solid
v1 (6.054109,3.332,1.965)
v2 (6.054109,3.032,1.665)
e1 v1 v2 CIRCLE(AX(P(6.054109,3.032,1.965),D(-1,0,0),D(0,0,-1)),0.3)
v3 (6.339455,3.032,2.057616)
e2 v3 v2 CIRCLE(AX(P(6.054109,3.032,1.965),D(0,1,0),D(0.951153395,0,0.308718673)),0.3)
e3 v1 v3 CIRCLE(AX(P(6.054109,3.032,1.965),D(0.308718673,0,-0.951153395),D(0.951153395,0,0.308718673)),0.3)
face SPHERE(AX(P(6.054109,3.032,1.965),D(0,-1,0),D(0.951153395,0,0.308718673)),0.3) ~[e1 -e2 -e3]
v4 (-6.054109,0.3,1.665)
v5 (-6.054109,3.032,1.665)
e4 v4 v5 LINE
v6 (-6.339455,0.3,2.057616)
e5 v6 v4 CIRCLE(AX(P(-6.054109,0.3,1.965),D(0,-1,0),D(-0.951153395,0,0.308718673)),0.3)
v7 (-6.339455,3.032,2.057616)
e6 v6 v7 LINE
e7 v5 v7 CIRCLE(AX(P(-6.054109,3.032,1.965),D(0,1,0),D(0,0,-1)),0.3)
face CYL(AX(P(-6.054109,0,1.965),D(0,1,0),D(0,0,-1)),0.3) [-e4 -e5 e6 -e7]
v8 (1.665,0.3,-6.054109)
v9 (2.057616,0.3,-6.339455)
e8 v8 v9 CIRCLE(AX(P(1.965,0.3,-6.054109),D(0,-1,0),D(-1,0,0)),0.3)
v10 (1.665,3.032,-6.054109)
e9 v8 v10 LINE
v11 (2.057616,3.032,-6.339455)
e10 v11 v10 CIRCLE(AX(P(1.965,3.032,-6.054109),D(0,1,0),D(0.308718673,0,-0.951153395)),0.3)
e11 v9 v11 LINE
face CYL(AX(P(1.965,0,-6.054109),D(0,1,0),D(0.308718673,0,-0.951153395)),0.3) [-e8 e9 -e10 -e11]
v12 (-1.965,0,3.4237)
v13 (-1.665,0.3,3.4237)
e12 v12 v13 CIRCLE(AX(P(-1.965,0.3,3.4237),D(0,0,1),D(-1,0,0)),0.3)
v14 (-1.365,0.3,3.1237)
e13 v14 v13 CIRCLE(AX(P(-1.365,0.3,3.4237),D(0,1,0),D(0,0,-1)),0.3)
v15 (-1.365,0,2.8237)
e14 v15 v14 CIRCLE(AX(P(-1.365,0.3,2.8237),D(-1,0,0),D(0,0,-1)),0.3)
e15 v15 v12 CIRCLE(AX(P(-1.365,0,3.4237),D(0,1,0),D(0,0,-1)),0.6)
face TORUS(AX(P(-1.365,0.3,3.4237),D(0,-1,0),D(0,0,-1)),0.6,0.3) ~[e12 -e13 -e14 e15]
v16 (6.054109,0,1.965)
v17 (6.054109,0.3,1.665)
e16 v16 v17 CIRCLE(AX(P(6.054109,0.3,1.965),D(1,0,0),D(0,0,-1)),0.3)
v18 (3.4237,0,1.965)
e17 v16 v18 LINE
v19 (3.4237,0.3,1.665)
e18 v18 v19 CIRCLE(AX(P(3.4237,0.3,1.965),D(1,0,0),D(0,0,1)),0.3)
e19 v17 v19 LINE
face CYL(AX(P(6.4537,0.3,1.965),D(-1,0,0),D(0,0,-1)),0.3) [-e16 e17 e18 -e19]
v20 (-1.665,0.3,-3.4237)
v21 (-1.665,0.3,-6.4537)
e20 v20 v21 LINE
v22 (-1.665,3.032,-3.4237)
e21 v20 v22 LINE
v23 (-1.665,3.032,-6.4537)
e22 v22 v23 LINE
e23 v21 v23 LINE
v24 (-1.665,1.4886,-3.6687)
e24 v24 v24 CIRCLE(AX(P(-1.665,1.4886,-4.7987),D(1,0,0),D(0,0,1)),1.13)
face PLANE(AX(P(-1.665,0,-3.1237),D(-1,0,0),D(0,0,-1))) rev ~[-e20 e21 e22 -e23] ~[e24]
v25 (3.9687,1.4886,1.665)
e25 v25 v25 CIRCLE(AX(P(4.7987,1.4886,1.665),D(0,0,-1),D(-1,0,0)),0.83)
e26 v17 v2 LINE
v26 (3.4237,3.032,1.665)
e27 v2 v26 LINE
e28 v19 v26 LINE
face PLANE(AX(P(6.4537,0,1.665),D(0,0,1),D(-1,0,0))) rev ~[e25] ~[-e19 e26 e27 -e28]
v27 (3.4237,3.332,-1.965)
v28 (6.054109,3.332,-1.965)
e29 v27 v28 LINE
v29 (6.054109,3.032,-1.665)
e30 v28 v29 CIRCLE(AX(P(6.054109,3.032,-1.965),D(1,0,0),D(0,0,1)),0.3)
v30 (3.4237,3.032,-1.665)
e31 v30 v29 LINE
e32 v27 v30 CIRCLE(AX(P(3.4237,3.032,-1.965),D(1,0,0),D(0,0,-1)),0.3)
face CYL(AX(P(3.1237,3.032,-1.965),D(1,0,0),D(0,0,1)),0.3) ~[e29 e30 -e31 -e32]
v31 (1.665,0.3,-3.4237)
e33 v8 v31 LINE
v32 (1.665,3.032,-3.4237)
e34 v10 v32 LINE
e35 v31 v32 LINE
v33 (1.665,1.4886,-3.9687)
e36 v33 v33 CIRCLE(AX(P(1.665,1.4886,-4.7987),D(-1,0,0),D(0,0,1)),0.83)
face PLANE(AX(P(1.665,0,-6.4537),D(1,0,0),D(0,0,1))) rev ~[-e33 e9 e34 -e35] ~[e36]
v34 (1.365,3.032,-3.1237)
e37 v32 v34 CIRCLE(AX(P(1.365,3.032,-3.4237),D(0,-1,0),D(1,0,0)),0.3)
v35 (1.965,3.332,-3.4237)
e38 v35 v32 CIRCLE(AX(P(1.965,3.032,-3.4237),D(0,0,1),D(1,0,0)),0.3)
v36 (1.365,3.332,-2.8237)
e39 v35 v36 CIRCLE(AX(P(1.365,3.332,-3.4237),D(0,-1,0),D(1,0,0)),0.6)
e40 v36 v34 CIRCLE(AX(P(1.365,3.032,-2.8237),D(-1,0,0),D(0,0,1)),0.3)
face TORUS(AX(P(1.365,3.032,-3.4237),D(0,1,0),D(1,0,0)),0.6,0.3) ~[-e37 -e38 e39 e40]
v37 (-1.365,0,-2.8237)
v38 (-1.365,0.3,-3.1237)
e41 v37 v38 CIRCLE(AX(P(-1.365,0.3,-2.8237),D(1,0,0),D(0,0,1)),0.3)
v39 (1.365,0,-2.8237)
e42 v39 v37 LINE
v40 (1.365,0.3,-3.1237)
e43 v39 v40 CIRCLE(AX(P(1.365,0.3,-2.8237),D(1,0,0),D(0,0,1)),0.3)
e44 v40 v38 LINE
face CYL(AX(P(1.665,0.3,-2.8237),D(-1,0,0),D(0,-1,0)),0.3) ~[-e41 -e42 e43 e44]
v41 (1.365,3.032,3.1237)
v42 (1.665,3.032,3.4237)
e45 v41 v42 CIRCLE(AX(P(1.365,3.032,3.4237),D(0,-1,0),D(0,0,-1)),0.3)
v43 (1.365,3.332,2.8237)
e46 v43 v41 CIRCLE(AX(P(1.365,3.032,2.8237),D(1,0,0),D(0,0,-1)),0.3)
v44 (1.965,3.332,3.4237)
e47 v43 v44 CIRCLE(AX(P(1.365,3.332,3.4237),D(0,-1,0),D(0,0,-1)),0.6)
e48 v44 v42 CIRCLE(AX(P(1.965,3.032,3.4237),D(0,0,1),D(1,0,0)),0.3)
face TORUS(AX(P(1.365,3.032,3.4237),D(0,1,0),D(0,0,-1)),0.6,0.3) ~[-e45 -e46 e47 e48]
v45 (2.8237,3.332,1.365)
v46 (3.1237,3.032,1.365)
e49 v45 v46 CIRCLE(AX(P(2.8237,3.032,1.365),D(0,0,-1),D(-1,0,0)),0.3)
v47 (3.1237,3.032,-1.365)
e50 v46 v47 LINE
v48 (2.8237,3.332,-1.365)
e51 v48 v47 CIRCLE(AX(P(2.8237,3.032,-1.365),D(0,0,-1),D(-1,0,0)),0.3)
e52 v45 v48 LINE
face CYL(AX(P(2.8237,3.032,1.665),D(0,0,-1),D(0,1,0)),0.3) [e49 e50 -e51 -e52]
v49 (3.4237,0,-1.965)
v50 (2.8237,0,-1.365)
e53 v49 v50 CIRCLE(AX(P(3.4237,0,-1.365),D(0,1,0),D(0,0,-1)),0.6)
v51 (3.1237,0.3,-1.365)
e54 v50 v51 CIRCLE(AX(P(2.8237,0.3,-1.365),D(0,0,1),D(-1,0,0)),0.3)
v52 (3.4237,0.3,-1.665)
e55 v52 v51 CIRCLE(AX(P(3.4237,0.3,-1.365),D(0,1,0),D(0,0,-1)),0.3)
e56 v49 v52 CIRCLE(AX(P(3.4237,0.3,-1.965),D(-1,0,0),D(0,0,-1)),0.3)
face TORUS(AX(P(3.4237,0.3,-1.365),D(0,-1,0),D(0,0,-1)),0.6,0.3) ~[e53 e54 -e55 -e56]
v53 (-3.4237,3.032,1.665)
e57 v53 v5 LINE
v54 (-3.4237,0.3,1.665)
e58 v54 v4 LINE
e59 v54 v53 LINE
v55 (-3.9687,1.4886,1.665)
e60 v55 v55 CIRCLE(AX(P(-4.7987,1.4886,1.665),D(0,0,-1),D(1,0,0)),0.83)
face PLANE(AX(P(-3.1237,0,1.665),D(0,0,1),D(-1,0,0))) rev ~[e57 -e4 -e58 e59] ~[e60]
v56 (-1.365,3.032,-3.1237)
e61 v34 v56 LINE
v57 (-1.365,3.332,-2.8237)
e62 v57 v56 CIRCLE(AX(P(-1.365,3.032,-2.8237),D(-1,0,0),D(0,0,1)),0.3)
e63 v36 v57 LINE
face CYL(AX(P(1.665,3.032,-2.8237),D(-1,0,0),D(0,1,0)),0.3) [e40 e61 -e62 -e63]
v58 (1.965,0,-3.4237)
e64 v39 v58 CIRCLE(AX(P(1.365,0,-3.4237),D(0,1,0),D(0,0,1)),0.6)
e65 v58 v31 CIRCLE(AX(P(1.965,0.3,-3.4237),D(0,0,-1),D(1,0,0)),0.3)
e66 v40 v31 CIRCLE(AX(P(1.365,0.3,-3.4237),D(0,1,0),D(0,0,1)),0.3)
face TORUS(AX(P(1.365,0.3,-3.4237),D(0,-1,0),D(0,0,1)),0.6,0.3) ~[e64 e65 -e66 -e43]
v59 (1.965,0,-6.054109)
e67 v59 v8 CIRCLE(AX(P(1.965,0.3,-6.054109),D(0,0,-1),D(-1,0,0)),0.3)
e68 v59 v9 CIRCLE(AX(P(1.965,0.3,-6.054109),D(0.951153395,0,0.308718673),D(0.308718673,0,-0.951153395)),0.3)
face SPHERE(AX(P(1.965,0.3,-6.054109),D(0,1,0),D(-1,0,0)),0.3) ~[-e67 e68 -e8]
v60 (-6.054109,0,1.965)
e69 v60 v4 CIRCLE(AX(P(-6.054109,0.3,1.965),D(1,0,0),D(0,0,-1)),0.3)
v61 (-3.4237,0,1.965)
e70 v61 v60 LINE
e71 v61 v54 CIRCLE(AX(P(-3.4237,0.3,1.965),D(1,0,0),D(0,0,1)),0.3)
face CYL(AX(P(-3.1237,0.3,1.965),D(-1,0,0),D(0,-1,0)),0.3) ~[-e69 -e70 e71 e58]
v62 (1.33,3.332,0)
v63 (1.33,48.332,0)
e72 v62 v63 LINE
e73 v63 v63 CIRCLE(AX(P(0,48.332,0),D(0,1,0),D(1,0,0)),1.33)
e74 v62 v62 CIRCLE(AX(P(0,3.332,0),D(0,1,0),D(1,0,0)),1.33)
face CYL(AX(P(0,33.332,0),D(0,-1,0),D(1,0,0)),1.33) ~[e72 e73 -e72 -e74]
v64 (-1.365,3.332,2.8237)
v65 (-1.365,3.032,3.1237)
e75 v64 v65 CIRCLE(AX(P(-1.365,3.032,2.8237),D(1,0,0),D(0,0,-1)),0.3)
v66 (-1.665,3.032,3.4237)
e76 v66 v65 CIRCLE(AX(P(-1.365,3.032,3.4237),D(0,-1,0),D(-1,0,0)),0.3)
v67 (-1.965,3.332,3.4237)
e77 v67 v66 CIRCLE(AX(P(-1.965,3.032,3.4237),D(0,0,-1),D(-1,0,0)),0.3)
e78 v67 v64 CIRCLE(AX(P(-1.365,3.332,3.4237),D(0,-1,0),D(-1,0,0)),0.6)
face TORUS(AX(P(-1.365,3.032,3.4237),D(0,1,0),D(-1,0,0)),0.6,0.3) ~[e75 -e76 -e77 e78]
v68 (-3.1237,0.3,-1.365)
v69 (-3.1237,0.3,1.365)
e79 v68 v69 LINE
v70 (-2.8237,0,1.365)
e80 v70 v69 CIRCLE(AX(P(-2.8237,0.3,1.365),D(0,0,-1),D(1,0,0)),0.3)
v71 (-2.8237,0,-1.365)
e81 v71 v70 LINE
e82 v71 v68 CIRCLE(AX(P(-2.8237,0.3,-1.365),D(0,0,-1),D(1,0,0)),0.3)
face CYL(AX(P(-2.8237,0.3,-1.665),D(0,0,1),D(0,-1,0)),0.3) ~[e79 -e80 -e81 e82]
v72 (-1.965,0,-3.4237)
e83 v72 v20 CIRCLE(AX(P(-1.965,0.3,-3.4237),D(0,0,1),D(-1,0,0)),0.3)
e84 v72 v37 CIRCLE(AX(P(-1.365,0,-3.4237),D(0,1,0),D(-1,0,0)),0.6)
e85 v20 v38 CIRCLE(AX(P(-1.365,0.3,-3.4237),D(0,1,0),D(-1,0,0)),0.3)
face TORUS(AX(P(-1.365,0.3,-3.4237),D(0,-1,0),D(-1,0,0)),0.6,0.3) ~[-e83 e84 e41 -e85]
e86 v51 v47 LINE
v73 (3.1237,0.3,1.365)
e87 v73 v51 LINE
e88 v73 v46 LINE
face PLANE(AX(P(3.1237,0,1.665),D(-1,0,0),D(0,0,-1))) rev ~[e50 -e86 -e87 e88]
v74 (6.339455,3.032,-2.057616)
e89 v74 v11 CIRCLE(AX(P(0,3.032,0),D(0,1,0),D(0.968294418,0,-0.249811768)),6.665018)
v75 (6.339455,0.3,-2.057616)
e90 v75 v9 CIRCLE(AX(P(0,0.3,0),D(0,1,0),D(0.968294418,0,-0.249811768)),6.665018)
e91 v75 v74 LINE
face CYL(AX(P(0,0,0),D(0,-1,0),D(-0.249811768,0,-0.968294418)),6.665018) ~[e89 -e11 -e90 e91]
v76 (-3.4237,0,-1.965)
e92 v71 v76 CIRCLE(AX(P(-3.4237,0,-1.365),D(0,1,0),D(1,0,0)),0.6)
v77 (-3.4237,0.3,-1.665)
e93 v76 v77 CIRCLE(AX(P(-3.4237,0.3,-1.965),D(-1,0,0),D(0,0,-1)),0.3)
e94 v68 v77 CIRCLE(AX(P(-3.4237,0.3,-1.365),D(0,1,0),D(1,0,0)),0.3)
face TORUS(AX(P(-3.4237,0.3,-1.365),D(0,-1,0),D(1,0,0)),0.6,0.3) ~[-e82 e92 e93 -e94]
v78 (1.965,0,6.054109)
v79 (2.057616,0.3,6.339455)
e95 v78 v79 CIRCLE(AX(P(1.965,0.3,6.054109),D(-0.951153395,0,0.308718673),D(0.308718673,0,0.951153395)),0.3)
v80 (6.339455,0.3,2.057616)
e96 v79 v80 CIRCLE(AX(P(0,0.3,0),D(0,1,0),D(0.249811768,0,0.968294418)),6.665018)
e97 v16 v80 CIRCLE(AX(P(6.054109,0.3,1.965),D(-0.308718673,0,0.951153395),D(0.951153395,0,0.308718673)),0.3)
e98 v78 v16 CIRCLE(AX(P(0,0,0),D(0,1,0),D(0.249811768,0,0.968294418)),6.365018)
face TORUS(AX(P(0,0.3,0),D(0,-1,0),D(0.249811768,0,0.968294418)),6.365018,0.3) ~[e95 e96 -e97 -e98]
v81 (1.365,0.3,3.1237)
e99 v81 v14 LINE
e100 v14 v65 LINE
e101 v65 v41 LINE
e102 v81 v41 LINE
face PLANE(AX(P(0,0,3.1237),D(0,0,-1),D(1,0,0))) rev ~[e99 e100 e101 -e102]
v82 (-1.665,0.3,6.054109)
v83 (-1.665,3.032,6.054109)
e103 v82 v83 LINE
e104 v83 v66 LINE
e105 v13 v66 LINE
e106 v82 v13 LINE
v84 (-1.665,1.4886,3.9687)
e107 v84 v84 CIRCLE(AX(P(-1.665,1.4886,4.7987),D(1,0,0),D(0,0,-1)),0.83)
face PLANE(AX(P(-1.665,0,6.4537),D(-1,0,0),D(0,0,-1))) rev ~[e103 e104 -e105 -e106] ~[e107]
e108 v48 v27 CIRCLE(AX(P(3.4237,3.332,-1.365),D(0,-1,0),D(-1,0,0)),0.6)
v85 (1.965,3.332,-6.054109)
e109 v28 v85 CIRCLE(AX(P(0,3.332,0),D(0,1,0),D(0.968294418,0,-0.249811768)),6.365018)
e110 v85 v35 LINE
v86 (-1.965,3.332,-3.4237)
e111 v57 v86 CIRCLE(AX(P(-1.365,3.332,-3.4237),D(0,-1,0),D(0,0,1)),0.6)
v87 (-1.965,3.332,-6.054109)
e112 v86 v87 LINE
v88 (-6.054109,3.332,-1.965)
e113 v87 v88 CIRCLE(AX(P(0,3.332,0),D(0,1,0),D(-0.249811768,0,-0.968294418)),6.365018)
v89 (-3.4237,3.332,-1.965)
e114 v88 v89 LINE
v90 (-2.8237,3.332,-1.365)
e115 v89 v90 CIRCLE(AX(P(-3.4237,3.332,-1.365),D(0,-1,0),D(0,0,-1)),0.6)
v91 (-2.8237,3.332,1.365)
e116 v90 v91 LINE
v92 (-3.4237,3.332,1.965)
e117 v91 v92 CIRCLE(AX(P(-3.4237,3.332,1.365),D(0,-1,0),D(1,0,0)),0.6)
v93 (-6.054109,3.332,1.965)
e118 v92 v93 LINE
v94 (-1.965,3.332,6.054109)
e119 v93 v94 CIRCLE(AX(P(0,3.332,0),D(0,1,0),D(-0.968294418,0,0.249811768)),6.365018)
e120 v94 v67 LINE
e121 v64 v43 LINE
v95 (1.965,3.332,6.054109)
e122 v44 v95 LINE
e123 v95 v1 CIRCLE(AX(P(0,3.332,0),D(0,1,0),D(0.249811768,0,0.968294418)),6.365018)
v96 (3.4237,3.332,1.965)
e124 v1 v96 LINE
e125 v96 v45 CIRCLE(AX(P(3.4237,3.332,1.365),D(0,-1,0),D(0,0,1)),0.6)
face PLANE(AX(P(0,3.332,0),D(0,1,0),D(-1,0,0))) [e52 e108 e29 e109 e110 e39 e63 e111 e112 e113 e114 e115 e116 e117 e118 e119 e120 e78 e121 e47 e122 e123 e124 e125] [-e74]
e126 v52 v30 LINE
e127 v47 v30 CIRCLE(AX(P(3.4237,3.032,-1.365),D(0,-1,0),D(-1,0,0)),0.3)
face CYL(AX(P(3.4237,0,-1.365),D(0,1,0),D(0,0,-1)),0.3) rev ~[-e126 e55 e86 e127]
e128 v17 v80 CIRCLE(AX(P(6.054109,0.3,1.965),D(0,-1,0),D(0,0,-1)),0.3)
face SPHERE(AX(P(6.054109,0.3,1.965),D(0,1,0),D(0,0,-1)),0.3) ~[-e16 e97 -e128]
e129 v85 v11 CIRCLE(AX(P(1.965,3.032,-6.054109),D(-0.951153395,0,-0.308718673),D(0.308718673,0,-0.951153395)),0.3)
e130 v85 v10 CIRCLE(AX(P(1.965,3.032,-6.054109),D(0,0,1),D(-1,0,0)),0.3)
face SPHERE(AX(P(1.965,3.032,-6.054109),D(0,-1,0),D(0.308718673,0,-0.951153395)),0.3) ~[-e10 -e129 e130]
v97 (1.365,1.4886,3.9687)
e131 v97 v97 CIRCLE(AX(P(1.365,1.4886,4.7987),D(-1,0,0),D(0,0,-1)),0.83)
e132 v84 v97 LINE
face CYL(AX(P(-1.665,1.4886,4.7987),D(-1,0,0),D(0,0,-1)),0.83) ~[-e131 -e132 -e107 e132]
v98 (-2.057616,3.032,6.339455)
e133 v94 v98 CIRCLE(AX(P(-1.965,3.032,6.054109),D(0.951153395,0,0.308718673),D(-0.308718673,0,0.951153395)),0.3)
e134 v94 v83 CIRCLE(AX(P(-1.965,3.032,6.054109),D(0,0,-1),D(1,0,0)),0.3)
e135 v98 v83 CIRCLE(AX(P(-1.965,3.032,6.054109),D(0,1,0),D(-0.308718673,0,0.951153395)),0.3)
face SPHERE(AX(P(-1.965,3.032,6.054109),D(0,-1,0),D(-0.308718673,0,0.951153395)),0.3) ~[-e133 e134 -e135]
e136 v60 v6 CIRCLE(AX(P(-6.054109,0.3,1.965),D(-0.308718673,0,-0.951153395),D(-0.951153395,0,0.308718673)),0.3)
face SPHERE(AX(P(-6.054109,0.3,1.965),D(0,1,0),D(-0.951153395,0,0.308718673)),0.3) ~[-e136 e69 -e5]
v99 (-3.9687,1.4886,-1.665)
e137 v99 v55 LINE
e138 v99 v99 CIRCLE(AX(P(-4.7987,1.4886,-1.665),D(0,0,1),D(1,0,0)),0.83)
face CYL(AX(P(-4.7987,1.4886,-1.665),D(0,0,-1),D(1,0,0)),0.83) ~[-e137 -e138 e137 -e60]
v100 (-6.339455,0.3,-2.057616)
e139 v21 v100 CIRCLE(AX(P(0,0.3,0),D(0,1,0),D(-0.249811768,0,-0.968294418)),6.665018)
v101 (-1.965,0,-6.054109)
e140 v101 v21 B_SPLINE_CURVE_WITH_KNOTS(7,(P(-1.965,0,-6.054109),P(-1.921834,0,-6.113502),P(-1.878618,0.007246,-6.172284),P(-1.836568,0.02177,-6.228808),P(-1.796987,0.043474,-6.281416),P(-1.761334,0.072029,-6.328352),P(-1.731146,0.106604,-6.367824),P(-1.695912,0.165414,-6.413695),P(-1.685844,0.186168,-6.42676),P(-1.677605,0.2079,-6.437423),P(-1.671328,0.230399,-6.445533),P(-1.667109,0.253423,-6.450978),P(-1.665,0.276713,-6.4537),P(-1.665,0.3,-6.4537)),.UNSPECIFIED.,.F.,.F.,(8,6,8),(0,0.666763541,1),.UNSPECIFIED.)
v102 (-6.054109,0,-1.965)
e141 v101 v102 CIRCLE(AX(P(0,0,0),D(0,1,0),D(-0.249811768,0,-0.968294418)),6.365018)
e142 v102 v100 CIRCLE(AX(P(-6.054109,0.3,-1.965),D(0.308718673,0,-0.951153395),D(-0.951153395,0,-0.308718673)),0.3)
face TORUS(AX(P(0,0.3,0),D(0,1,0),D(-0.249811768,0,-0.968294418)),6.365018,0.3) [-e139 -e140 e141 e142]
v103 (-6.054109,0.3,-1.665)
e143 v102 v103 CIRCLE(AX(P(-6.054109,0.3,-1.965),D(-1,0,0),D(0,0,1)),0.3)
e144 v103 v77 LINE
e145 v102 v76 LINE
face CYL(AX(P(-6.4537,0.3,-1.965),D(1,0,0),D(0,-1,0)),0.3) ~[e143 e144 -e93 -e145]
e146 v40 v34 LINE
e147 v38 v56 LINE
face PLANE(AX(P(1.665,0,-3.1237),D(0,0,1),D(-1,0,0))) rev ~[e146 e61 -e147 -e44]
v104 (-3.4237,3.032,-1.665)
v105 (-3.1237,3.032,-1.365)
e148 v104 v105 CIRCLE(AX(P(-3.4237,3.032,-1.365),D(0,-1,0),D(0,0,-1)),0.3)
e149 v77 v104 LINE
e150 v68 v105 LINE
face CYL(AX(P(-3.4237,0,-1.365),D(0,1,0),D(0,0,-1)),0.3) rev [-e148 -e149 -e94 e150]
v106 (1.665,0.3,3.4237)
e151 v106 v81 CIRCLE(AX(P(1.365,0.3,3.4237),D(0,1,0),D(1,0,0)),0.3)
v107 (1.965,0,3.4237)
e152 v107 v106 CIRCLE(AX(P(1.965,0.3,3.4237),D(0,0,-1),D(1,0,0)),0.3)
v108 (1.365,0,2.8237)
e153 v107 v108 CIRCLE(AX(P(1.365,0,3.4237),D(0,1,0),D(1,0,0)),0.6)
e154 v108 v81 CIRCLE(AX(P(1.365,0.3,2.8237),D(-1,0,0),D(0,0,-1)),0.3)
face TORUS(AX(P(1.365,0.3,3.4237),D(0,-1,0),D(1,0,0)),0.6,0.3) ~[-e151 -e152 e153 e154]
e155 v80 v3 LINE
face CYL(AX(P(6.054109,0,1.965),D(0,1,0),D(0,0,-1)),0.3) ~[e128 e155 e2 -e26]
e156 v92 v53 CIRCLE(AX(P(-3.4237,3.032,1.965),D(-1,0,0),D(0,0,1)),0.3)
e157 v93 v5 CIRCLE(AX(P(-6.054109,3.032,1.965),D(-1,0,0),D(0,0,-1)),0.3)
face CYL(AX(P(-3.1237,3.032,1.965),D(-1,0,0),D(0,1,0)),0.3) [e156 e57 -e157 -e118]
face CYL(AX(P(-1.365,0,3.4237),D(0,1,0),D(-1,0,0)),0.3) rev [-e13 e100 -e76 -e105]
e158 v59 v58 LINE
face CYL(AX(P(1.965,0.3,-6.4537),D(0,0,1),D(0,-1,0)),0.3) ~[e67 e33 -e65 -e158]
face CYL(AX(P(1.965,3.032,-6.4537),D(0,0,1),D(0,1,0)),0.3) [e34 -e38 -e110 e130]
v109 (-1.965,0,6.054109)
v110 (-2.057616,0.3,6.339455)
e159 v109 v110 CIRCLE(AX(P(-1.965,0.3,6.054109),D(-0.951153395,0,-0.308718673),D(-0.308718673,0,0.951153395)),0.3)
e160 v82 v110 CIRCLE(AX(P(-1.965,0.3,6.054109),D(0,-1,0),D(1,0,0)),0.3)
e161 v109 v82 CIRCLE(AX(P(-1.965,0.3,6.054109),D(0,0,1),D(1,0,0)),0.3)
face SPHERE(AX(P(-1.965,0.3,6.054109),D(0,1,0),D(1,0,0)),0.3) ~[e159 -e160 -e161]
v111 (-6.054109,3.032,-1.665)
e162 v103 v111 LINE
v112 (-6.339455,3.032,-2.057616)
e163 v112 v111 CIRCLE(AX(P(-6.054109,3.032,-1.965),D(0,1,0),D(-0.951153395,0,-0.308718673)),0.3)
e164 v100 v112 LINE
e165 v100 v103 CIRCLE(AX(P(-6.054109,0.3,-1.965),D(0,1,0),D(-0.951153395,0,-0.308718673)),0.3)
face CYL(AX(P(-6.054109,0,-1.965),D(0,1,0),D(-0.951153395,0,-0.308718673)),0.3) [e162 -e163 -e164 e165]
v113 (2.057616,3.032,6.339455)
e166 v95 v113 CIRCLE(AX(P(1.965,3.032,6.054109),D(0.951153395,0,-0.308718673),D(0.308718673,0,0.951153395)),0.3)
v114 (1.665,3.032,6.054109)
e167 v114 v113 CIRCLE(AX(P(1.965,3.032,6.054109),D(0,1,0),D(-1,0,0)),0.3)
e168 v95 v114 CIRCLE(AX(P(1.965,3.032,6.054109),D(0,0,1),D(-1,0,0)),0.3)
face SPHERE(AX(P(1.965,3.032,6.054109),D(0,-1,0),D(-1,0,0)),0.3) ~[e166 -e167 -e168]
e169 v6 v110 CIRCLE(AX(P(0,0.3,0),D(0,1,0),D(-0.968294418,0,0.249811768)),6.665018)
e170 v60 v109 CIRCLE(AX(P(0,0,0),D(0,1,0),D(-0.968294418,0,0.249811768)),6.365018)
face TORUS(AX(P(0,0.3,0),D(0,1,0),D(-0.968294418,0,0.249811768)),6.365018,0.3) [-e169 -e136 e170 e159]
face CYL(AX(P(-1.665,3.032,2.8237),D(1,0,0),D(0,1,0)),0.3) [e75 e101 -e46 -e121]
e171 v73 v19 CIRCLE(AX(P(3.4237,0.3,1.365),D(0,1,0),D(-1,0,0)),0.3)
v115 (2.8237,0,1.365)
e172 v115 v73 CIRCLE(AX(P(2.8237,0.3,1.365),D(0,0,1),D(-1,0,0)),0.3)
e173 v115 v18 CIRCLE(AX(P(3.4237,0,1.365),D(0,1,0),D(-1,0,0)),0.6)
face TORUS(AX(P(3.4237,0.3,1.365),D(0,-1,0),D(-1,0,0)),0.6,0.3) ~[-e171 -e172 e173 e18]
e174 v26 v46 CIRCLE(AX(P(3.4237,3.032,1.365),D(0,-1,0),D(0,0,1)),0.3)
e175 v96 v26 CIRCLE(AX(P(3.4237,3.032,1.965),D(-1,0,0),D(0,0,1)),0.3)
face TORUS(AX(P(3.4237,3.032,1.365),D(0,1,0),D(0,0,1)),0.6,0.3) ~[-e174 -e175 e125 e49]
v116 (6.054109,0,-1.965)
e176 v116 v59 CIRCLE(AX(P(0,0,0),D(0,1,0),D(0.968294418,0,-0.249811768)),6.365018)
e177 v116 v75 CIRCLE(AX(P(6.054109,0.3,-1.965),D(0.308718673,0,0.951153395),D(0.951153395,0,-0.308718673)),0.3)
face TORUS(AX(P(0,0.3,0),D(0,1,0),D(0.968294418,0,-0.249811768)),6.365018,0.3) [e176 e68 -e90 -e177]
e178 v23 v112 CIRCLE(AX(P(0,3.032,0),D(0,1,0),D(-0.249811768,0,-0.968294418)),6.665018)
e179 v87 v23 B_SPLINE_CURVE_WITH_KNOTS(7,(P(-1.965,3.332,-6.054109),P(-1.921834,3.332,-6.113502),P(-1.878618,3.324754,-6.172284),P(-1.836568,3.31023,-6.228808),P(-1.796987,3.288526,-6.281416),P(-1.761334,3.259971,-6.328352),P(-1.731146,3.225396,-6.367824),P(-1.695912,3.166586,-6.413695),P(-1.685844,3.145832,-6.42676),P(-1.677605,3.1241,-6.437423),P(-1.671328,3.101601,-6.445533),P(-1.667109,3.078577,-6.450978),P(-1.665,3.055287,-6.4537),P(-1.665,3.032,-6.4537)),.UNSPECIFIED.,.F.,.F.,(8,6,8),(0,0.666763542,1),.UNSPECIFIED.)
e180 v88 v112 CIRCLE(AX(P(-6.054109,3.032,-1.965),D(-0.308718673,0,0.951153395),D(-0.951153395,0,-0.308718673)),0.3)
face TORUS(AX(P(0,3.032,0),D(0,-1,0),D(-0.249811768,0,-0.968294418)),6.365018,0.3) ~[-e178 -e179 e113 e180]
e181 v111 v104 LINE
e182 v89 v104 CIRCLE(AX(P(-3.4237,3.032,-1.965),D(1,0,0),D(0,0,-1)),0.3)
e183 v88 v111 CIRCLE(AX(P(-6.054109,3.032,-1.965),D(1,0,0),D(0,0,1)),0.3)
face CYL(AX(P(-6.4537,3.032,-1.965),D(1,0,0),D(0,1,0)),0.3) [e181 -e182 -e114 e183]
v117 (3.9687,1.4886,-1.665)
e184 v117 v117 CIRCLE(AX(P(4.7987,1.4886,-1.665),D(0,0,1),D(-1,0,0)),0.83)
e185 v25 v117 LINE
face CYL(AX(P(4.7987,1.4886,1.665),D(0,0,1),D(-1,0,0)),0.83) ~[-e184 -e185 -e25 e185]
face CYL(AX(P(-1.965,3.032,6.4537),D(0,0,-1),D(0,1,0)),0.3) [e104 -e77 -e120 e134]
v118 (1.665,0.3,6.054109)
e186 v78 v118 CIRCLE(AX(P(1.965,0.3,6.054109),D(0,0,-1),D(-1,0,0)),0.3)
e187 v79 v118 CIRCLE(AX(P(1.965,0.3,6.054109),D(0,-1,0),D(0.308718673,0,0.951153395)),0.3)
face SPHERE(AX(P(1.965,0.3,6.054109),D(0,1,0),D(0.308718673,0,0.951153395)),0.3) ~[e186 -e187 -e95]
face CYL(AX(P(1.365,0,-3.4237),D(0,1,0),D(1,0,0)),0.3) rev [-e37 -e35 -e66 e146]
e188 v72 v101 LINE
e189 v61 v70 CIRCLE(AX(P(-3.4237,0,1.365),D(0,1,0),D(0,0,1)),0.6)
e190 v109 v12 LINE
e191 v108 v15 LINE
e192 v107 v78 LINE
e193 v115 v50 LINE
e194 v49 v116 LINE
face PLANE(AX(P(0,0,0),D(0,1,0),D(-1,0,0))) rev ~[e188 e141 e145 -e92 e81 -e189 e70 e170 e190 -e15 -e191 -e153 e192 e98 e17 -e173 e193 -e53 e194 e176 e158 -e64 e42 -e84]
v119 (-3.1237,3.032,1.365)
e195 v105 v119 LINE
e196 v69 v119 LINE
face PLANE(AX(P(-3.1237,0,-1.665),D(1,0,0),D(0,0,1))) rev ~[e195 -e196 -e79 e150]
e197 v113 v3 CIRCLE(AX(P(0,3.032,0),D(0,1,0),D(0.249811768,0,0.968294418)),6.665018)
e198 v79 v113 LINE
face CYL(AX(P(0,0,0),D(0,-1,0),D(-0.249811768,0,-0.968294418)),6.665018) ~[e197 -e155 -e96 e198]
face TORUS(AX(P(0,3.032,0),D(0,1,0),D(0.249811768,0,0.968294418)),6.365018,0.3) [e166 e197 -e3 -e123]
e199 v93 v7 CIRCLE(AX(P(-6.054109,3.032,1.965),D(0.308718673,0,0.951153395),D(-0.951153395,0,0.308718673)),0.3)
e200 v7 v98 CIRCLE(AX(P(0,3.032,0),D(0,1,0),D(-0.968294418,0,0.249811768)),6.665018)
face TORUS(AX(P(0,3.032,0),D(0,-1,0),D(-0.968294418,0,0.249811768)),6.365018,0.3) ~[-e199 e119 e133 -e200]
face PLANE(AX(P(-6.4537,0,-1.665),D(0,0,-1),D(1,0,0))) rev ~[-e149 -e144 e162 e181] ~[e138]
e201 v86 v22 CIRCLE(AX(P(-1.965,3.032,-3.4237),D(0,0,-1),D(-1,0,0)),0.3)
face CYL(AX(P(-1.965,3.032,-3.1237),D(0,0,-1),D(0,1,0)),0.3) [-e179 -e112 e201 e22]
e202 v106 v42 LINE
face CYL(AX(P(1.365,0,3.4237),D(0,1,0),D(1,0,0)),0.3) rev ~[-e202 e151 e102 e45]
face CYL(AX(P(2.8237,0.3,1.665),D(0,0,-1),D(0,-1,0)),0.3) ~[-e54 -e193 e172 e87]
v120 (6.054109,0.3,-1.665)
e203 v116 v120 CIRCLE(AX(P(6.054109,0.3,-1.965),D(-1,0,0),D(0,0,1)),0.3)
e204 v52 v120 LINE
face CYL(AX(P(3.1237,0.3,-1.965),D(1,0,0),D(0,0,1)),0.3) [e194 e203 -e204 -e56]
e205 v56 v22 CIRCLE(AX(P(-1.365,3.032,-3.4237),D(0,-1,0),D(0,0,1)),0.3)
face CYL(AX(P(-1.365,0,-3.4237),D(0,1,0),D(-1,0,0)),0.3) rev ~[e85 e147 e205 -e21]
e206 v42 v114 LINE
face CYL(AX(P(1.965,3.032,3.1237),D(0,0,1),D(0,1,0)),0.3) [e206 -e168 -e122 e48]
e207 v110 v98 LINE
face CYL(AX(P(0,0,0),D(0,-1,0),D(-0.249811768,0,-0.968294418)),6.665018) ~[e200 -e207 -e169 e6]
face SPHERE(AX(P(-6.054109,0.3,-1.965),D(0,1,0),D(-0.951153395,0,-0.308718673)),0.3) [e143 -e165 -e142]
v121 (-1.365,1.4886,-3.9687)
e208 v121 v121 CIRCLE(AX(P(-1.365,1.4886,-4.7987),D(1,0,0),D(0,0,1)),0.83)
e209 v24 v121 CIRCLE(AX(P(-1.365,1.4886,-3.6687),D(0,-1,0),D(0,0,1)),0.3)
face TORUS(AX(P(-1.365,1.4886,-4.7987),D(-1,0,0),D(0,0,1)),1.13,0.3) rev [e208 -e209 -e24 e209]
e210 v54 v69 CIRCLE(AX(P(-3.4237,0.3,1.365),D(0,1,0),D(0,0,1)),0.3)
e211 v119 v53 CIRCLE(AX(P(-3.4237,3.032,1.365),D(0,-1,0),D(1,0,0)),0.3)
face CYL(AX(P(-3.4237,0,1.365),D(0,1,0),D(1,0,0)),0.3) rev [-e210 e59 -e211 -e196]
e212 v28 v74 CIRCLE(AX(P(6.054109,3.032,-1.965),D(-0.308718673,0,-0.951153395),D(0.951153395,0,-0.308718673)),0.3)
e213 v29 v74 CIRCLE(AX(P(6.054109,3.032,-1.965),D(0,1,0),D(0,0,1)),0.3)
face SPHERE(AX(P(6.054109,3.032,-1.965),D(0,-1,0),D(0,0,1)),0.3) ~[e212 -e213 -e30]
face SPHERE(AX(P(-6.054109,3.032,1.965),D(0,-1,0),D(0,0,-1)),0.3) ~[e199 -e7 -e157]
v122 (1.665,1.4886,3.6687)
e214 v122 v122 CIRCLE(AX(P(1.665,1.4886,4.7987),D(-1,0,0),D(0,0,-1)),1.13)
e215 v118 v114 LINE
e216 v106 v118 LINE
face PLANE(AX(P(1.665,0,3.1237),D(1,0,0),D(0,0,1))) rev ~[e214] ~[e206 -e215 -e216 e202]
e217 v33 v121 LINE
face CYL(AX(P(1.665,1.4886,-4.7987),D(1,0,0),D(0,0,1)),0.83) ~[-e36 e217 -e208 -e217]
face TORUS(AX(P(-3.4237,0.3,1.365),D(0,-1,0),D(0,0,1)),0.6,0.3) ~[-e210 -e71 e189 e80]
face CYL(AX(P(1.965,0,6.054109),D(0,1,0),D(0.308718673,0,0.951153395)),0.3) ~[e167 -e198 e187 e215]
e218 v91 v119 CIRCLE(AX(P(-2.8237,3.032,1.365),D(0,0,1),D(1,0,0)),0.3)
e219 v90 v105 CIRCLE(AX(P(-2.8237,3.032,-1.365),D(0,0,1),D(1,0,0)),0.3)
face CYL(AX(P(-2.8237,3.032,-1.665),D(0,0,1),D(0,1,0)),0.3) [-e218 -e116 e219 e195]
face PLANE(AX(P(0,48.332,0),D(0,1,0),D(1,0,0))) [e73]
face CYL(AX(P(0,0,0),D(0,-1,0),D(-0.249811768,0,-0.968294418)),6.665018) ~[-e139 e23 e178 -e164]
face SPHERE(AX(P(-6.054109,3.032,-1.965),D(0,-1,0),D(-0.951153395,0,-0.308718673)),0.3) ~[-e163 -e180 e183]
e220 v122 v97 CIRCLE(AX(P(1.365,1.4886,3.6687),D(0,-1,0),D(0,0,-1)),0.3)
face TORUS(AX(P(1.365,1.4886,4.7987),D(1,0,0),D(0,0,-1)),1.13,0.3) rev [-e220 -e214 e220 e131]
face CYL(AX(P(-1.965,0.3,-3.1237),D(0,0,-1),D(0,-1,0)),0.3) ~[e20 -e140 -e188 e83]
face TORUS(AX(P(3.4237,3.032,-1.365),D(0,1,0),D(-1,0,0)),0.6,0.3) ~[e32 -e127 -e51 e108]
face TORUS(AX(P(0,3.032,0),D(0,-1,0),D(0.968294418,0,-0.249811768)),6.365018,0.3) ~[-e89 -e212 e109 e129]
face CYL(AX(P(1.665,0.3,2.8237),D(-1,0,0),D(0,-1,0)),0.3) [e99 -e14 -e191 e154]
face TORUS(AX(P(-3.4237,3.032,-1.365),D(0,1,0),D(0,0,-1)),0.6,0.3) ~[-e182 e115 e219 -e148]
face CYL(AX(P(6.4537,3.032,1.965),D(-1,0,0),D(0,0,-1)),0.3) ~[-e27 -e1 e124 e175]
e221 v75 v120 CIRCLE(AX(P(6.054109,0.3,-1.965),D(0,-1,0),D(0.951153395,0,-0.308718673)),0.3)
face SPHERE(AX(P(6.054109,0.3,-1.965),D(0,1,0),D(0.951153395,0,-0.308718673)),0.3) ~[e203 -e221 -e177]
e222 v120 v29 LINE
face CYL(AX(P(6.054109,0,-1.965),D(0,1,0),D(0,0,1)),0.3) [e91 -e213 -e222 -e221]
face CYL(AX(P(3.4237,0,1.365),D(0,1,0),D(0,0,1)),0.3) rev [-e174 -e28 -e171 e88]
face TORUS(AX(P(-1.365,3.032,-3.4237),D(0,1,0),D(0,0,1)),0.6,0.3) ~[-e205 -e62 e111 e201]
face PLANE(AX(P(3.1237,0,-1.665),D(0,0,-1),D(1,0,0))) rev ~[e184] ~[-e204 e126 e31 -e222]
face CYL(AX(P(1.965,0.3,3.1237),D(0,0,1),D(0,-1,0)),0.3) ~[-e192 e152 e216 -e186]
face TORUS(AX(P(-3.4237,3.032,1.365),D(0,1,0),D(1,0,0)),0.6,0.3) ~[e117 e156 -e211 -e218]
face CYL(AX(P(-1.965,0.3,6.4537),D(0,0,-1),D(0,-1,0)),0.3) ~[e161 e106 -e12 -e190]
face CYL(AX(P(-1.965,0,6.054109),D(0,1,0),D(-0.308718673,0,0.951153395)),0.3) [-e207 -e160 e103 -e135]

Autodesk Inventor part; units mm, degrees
ref_plane "YZ Plane" through (0, 0, 0) normal (1, 0, 0) x (0, 1, 0)
ref_plane "XZ Plane" through (0, 0, 0) normal (0, 1, 0) x (-1, 0, 0)
ref_plane "XY Plane" through (0, 0, 0) normal (0, 0, 1) x (1, 0, 0)
sketch "Sketch1" plane through (0, 0, 0) normal (0, 1, 0) x (-1, 0, 0)
  arc A0 (1.665, -6.4537) -> (-1.665, -6.4537) centre (0, 0) ccw
  line L0 (0, 6.665) -> (0, 0)
  line L1 (0, -6.665) -> (0, 0) construction
  line L2 (-1.665, -6.4537) -> (-1.665, -3.1237)
  line L3 (-1.665, -3.1237) -> (1.665, -3.1237)
  line L4 (1.665, -3.1237) -> (1.665, -6.4537)
  line L5 (1.665, -6.4537) -> (-1.665, -3.1237) construction
  line L6 (-1.665, -6.4537) -> (1.665, -3.1237) construction
  line L7 (6.4537, -1.665) -> (3.1237, -1.665)
  line L8 (3.1237, -1.665) -> (3.1237, 1.665)
  line L9 (3.1237, 1.665) -> (6.4537, 1.665)
  line L10 (6.4537, 1.665) -> (3.1237, -1.665) construction
  line L11 (6.4537, -1.665) -> (3.1237, 1.665) construction
  line L12 (1.665, 6.4537) -> (1.665, 3.1237)
  line L13 (1.665, 3.1237) -> (-1.665, 3.1237)
  line L14 (-1.665, 3.1237) -> (-1.665, 6.4537)
  line L15 (-1.665, 6.4537) -> (1.665, 3.1237) construction
  line L16 (1.665, 6.4537) -> (-1.665, 3.1237) construction
  line L17 (-6.4537, 1.665) -> (-3.1237, 1.665)
  line L18 (-3.1237, 1.665) -> (-3.1237, -1.665)
  line L19 (-3.1237, -1.665) -> (-6.4537, -1.665)
  line L20 (-6.4537, -1.665) -> (-3.1237, 1.665) construction
  line L21 (-6.4537, 1.665) -> (-3.1237, -1.665) construction
  point P0 (0, -4.7887)
  point P1 (6.665, 0)
  point P2 (4.7887, 0)
  point P3 (0, 6.665)
  point P4 (0, 4.7887)
  point P5 (-6.665, 0)
  point P6 (-4.7887, 0)
  dimension "d0" = 13.33
  dimension "d1" = 3.33
  dimension "d4" = 360
extrude "Extrusion1" add sketch "Sketch1" along normal blind 3.332 contours L4 L3 L2 A0 L19 L18 L17 L14 L13 L12 L9 L8 L7
sketch "Sketch2" plane through (1.665, 0, -6.4537) normal (-1, 0, 0) x (0, 0, 1)
  line L0 (3.33, 0) -> (3.33, 3.332) construction
  line L1 (3.33, 1.4886) -> (-0.0199, 1.4886) construction
  circle A0 centre (1.655, 1.4886) radius 0.83
  point P0 (6.4537, 0)
  dimension "d8" = 1.66
extrude "Extrusion2" add sketch "Sketch2" along normal blind 3.332
pattern_circular "Circular Pattern1" count 4 over 360 about axis through (0, 0, 0) along (0, 1, 0) of "Extrusion2"
sketch "Sketch3" plane through (0, 3.332, 0) normal (0, 1, 0) x (1, 0, 0)
  circle A0 centre (0, 0) radius 1.33
  dimension "d14" = 2.66
extrude "Extrusion3" add sketch "Sketch3" along normal blind 30
fillet "Fillet1" radius 0.3 49 edges at (-4.7129, 0, -4.7129) (-1.665, 0, -4.7887) (0, 0, -3.1237) (1.665, 0, -4.7887) (4.7129, 0, -4.7129) (4.7887, 0, -1.665) (3.1237, 0, 0) (4.7887, 0, 1.665) (4.7129, 0, 4.7129) (1.665, 0, 4.7887) (0, 0, 3.1237) (-1.665, 0, 4.7887) (-4.7129, 0, 4.7129) (-4.7887, 0, 1.665) (-3.1237, 0, 0) (-4.7887, 0, -1.665) (-4.7129, 3.332, -4.7129) (-4.7887, 3.332, -1.665) (-3.1237, 3.332, 0) (-4.7887, 3.332, 1.665) (-4.7129, 3.332, 4.7129) (-1.665, 3.332, 4.7887) (0, 3.332, 3.1237) (1.665, 3.332, 4.7887) (4.7129, 3.332, 4.7129) (4.7887, 3.332, 1.665) (3.1237, 3.332, 0) (4.7887, 3.332, -1.665) (4.7129, 3.332, -4.7129) (1.665, 3.332, -4.7887) (0, 3.332, -3.1237) (-1.665, 3.332, -4.7887) (1.665, 1.4886, 5.6286) (-1.665, 1.666, 6.4537) (-6.4537, 1.666, 1.665) (-3.1237, 1.666, -1.665) (-6.4537, 1.666, -1.665) (-3.1237, 1.666, 1.665) (-1.665, 1.666, -3.1237) (1.665, 1.666, -3.1237) (-1.665, 1.4886, -5.6286) (1.665, 1.666, -6.4537) (6.4537, 1.666, -1.665) (3.1237, 1.666, -1.665) (3.1237, 1.666, 1.665) (6.4537, 1.666, 1.665) (1.665, 1.666, 6.4537) (1.665, 1.666, 3.1237) (-1.665, 1.666, 3.1237)
sketch "Sketch4" plane through (0, 33.332, 0) normal (0, 1, 0) x (1, 0, 0)
  circle A0 centre (0, 0) radius 1.33
extrude "Extrusion4" add sketch "Sketch4" along normal blind 15
properties part number "G-3"
